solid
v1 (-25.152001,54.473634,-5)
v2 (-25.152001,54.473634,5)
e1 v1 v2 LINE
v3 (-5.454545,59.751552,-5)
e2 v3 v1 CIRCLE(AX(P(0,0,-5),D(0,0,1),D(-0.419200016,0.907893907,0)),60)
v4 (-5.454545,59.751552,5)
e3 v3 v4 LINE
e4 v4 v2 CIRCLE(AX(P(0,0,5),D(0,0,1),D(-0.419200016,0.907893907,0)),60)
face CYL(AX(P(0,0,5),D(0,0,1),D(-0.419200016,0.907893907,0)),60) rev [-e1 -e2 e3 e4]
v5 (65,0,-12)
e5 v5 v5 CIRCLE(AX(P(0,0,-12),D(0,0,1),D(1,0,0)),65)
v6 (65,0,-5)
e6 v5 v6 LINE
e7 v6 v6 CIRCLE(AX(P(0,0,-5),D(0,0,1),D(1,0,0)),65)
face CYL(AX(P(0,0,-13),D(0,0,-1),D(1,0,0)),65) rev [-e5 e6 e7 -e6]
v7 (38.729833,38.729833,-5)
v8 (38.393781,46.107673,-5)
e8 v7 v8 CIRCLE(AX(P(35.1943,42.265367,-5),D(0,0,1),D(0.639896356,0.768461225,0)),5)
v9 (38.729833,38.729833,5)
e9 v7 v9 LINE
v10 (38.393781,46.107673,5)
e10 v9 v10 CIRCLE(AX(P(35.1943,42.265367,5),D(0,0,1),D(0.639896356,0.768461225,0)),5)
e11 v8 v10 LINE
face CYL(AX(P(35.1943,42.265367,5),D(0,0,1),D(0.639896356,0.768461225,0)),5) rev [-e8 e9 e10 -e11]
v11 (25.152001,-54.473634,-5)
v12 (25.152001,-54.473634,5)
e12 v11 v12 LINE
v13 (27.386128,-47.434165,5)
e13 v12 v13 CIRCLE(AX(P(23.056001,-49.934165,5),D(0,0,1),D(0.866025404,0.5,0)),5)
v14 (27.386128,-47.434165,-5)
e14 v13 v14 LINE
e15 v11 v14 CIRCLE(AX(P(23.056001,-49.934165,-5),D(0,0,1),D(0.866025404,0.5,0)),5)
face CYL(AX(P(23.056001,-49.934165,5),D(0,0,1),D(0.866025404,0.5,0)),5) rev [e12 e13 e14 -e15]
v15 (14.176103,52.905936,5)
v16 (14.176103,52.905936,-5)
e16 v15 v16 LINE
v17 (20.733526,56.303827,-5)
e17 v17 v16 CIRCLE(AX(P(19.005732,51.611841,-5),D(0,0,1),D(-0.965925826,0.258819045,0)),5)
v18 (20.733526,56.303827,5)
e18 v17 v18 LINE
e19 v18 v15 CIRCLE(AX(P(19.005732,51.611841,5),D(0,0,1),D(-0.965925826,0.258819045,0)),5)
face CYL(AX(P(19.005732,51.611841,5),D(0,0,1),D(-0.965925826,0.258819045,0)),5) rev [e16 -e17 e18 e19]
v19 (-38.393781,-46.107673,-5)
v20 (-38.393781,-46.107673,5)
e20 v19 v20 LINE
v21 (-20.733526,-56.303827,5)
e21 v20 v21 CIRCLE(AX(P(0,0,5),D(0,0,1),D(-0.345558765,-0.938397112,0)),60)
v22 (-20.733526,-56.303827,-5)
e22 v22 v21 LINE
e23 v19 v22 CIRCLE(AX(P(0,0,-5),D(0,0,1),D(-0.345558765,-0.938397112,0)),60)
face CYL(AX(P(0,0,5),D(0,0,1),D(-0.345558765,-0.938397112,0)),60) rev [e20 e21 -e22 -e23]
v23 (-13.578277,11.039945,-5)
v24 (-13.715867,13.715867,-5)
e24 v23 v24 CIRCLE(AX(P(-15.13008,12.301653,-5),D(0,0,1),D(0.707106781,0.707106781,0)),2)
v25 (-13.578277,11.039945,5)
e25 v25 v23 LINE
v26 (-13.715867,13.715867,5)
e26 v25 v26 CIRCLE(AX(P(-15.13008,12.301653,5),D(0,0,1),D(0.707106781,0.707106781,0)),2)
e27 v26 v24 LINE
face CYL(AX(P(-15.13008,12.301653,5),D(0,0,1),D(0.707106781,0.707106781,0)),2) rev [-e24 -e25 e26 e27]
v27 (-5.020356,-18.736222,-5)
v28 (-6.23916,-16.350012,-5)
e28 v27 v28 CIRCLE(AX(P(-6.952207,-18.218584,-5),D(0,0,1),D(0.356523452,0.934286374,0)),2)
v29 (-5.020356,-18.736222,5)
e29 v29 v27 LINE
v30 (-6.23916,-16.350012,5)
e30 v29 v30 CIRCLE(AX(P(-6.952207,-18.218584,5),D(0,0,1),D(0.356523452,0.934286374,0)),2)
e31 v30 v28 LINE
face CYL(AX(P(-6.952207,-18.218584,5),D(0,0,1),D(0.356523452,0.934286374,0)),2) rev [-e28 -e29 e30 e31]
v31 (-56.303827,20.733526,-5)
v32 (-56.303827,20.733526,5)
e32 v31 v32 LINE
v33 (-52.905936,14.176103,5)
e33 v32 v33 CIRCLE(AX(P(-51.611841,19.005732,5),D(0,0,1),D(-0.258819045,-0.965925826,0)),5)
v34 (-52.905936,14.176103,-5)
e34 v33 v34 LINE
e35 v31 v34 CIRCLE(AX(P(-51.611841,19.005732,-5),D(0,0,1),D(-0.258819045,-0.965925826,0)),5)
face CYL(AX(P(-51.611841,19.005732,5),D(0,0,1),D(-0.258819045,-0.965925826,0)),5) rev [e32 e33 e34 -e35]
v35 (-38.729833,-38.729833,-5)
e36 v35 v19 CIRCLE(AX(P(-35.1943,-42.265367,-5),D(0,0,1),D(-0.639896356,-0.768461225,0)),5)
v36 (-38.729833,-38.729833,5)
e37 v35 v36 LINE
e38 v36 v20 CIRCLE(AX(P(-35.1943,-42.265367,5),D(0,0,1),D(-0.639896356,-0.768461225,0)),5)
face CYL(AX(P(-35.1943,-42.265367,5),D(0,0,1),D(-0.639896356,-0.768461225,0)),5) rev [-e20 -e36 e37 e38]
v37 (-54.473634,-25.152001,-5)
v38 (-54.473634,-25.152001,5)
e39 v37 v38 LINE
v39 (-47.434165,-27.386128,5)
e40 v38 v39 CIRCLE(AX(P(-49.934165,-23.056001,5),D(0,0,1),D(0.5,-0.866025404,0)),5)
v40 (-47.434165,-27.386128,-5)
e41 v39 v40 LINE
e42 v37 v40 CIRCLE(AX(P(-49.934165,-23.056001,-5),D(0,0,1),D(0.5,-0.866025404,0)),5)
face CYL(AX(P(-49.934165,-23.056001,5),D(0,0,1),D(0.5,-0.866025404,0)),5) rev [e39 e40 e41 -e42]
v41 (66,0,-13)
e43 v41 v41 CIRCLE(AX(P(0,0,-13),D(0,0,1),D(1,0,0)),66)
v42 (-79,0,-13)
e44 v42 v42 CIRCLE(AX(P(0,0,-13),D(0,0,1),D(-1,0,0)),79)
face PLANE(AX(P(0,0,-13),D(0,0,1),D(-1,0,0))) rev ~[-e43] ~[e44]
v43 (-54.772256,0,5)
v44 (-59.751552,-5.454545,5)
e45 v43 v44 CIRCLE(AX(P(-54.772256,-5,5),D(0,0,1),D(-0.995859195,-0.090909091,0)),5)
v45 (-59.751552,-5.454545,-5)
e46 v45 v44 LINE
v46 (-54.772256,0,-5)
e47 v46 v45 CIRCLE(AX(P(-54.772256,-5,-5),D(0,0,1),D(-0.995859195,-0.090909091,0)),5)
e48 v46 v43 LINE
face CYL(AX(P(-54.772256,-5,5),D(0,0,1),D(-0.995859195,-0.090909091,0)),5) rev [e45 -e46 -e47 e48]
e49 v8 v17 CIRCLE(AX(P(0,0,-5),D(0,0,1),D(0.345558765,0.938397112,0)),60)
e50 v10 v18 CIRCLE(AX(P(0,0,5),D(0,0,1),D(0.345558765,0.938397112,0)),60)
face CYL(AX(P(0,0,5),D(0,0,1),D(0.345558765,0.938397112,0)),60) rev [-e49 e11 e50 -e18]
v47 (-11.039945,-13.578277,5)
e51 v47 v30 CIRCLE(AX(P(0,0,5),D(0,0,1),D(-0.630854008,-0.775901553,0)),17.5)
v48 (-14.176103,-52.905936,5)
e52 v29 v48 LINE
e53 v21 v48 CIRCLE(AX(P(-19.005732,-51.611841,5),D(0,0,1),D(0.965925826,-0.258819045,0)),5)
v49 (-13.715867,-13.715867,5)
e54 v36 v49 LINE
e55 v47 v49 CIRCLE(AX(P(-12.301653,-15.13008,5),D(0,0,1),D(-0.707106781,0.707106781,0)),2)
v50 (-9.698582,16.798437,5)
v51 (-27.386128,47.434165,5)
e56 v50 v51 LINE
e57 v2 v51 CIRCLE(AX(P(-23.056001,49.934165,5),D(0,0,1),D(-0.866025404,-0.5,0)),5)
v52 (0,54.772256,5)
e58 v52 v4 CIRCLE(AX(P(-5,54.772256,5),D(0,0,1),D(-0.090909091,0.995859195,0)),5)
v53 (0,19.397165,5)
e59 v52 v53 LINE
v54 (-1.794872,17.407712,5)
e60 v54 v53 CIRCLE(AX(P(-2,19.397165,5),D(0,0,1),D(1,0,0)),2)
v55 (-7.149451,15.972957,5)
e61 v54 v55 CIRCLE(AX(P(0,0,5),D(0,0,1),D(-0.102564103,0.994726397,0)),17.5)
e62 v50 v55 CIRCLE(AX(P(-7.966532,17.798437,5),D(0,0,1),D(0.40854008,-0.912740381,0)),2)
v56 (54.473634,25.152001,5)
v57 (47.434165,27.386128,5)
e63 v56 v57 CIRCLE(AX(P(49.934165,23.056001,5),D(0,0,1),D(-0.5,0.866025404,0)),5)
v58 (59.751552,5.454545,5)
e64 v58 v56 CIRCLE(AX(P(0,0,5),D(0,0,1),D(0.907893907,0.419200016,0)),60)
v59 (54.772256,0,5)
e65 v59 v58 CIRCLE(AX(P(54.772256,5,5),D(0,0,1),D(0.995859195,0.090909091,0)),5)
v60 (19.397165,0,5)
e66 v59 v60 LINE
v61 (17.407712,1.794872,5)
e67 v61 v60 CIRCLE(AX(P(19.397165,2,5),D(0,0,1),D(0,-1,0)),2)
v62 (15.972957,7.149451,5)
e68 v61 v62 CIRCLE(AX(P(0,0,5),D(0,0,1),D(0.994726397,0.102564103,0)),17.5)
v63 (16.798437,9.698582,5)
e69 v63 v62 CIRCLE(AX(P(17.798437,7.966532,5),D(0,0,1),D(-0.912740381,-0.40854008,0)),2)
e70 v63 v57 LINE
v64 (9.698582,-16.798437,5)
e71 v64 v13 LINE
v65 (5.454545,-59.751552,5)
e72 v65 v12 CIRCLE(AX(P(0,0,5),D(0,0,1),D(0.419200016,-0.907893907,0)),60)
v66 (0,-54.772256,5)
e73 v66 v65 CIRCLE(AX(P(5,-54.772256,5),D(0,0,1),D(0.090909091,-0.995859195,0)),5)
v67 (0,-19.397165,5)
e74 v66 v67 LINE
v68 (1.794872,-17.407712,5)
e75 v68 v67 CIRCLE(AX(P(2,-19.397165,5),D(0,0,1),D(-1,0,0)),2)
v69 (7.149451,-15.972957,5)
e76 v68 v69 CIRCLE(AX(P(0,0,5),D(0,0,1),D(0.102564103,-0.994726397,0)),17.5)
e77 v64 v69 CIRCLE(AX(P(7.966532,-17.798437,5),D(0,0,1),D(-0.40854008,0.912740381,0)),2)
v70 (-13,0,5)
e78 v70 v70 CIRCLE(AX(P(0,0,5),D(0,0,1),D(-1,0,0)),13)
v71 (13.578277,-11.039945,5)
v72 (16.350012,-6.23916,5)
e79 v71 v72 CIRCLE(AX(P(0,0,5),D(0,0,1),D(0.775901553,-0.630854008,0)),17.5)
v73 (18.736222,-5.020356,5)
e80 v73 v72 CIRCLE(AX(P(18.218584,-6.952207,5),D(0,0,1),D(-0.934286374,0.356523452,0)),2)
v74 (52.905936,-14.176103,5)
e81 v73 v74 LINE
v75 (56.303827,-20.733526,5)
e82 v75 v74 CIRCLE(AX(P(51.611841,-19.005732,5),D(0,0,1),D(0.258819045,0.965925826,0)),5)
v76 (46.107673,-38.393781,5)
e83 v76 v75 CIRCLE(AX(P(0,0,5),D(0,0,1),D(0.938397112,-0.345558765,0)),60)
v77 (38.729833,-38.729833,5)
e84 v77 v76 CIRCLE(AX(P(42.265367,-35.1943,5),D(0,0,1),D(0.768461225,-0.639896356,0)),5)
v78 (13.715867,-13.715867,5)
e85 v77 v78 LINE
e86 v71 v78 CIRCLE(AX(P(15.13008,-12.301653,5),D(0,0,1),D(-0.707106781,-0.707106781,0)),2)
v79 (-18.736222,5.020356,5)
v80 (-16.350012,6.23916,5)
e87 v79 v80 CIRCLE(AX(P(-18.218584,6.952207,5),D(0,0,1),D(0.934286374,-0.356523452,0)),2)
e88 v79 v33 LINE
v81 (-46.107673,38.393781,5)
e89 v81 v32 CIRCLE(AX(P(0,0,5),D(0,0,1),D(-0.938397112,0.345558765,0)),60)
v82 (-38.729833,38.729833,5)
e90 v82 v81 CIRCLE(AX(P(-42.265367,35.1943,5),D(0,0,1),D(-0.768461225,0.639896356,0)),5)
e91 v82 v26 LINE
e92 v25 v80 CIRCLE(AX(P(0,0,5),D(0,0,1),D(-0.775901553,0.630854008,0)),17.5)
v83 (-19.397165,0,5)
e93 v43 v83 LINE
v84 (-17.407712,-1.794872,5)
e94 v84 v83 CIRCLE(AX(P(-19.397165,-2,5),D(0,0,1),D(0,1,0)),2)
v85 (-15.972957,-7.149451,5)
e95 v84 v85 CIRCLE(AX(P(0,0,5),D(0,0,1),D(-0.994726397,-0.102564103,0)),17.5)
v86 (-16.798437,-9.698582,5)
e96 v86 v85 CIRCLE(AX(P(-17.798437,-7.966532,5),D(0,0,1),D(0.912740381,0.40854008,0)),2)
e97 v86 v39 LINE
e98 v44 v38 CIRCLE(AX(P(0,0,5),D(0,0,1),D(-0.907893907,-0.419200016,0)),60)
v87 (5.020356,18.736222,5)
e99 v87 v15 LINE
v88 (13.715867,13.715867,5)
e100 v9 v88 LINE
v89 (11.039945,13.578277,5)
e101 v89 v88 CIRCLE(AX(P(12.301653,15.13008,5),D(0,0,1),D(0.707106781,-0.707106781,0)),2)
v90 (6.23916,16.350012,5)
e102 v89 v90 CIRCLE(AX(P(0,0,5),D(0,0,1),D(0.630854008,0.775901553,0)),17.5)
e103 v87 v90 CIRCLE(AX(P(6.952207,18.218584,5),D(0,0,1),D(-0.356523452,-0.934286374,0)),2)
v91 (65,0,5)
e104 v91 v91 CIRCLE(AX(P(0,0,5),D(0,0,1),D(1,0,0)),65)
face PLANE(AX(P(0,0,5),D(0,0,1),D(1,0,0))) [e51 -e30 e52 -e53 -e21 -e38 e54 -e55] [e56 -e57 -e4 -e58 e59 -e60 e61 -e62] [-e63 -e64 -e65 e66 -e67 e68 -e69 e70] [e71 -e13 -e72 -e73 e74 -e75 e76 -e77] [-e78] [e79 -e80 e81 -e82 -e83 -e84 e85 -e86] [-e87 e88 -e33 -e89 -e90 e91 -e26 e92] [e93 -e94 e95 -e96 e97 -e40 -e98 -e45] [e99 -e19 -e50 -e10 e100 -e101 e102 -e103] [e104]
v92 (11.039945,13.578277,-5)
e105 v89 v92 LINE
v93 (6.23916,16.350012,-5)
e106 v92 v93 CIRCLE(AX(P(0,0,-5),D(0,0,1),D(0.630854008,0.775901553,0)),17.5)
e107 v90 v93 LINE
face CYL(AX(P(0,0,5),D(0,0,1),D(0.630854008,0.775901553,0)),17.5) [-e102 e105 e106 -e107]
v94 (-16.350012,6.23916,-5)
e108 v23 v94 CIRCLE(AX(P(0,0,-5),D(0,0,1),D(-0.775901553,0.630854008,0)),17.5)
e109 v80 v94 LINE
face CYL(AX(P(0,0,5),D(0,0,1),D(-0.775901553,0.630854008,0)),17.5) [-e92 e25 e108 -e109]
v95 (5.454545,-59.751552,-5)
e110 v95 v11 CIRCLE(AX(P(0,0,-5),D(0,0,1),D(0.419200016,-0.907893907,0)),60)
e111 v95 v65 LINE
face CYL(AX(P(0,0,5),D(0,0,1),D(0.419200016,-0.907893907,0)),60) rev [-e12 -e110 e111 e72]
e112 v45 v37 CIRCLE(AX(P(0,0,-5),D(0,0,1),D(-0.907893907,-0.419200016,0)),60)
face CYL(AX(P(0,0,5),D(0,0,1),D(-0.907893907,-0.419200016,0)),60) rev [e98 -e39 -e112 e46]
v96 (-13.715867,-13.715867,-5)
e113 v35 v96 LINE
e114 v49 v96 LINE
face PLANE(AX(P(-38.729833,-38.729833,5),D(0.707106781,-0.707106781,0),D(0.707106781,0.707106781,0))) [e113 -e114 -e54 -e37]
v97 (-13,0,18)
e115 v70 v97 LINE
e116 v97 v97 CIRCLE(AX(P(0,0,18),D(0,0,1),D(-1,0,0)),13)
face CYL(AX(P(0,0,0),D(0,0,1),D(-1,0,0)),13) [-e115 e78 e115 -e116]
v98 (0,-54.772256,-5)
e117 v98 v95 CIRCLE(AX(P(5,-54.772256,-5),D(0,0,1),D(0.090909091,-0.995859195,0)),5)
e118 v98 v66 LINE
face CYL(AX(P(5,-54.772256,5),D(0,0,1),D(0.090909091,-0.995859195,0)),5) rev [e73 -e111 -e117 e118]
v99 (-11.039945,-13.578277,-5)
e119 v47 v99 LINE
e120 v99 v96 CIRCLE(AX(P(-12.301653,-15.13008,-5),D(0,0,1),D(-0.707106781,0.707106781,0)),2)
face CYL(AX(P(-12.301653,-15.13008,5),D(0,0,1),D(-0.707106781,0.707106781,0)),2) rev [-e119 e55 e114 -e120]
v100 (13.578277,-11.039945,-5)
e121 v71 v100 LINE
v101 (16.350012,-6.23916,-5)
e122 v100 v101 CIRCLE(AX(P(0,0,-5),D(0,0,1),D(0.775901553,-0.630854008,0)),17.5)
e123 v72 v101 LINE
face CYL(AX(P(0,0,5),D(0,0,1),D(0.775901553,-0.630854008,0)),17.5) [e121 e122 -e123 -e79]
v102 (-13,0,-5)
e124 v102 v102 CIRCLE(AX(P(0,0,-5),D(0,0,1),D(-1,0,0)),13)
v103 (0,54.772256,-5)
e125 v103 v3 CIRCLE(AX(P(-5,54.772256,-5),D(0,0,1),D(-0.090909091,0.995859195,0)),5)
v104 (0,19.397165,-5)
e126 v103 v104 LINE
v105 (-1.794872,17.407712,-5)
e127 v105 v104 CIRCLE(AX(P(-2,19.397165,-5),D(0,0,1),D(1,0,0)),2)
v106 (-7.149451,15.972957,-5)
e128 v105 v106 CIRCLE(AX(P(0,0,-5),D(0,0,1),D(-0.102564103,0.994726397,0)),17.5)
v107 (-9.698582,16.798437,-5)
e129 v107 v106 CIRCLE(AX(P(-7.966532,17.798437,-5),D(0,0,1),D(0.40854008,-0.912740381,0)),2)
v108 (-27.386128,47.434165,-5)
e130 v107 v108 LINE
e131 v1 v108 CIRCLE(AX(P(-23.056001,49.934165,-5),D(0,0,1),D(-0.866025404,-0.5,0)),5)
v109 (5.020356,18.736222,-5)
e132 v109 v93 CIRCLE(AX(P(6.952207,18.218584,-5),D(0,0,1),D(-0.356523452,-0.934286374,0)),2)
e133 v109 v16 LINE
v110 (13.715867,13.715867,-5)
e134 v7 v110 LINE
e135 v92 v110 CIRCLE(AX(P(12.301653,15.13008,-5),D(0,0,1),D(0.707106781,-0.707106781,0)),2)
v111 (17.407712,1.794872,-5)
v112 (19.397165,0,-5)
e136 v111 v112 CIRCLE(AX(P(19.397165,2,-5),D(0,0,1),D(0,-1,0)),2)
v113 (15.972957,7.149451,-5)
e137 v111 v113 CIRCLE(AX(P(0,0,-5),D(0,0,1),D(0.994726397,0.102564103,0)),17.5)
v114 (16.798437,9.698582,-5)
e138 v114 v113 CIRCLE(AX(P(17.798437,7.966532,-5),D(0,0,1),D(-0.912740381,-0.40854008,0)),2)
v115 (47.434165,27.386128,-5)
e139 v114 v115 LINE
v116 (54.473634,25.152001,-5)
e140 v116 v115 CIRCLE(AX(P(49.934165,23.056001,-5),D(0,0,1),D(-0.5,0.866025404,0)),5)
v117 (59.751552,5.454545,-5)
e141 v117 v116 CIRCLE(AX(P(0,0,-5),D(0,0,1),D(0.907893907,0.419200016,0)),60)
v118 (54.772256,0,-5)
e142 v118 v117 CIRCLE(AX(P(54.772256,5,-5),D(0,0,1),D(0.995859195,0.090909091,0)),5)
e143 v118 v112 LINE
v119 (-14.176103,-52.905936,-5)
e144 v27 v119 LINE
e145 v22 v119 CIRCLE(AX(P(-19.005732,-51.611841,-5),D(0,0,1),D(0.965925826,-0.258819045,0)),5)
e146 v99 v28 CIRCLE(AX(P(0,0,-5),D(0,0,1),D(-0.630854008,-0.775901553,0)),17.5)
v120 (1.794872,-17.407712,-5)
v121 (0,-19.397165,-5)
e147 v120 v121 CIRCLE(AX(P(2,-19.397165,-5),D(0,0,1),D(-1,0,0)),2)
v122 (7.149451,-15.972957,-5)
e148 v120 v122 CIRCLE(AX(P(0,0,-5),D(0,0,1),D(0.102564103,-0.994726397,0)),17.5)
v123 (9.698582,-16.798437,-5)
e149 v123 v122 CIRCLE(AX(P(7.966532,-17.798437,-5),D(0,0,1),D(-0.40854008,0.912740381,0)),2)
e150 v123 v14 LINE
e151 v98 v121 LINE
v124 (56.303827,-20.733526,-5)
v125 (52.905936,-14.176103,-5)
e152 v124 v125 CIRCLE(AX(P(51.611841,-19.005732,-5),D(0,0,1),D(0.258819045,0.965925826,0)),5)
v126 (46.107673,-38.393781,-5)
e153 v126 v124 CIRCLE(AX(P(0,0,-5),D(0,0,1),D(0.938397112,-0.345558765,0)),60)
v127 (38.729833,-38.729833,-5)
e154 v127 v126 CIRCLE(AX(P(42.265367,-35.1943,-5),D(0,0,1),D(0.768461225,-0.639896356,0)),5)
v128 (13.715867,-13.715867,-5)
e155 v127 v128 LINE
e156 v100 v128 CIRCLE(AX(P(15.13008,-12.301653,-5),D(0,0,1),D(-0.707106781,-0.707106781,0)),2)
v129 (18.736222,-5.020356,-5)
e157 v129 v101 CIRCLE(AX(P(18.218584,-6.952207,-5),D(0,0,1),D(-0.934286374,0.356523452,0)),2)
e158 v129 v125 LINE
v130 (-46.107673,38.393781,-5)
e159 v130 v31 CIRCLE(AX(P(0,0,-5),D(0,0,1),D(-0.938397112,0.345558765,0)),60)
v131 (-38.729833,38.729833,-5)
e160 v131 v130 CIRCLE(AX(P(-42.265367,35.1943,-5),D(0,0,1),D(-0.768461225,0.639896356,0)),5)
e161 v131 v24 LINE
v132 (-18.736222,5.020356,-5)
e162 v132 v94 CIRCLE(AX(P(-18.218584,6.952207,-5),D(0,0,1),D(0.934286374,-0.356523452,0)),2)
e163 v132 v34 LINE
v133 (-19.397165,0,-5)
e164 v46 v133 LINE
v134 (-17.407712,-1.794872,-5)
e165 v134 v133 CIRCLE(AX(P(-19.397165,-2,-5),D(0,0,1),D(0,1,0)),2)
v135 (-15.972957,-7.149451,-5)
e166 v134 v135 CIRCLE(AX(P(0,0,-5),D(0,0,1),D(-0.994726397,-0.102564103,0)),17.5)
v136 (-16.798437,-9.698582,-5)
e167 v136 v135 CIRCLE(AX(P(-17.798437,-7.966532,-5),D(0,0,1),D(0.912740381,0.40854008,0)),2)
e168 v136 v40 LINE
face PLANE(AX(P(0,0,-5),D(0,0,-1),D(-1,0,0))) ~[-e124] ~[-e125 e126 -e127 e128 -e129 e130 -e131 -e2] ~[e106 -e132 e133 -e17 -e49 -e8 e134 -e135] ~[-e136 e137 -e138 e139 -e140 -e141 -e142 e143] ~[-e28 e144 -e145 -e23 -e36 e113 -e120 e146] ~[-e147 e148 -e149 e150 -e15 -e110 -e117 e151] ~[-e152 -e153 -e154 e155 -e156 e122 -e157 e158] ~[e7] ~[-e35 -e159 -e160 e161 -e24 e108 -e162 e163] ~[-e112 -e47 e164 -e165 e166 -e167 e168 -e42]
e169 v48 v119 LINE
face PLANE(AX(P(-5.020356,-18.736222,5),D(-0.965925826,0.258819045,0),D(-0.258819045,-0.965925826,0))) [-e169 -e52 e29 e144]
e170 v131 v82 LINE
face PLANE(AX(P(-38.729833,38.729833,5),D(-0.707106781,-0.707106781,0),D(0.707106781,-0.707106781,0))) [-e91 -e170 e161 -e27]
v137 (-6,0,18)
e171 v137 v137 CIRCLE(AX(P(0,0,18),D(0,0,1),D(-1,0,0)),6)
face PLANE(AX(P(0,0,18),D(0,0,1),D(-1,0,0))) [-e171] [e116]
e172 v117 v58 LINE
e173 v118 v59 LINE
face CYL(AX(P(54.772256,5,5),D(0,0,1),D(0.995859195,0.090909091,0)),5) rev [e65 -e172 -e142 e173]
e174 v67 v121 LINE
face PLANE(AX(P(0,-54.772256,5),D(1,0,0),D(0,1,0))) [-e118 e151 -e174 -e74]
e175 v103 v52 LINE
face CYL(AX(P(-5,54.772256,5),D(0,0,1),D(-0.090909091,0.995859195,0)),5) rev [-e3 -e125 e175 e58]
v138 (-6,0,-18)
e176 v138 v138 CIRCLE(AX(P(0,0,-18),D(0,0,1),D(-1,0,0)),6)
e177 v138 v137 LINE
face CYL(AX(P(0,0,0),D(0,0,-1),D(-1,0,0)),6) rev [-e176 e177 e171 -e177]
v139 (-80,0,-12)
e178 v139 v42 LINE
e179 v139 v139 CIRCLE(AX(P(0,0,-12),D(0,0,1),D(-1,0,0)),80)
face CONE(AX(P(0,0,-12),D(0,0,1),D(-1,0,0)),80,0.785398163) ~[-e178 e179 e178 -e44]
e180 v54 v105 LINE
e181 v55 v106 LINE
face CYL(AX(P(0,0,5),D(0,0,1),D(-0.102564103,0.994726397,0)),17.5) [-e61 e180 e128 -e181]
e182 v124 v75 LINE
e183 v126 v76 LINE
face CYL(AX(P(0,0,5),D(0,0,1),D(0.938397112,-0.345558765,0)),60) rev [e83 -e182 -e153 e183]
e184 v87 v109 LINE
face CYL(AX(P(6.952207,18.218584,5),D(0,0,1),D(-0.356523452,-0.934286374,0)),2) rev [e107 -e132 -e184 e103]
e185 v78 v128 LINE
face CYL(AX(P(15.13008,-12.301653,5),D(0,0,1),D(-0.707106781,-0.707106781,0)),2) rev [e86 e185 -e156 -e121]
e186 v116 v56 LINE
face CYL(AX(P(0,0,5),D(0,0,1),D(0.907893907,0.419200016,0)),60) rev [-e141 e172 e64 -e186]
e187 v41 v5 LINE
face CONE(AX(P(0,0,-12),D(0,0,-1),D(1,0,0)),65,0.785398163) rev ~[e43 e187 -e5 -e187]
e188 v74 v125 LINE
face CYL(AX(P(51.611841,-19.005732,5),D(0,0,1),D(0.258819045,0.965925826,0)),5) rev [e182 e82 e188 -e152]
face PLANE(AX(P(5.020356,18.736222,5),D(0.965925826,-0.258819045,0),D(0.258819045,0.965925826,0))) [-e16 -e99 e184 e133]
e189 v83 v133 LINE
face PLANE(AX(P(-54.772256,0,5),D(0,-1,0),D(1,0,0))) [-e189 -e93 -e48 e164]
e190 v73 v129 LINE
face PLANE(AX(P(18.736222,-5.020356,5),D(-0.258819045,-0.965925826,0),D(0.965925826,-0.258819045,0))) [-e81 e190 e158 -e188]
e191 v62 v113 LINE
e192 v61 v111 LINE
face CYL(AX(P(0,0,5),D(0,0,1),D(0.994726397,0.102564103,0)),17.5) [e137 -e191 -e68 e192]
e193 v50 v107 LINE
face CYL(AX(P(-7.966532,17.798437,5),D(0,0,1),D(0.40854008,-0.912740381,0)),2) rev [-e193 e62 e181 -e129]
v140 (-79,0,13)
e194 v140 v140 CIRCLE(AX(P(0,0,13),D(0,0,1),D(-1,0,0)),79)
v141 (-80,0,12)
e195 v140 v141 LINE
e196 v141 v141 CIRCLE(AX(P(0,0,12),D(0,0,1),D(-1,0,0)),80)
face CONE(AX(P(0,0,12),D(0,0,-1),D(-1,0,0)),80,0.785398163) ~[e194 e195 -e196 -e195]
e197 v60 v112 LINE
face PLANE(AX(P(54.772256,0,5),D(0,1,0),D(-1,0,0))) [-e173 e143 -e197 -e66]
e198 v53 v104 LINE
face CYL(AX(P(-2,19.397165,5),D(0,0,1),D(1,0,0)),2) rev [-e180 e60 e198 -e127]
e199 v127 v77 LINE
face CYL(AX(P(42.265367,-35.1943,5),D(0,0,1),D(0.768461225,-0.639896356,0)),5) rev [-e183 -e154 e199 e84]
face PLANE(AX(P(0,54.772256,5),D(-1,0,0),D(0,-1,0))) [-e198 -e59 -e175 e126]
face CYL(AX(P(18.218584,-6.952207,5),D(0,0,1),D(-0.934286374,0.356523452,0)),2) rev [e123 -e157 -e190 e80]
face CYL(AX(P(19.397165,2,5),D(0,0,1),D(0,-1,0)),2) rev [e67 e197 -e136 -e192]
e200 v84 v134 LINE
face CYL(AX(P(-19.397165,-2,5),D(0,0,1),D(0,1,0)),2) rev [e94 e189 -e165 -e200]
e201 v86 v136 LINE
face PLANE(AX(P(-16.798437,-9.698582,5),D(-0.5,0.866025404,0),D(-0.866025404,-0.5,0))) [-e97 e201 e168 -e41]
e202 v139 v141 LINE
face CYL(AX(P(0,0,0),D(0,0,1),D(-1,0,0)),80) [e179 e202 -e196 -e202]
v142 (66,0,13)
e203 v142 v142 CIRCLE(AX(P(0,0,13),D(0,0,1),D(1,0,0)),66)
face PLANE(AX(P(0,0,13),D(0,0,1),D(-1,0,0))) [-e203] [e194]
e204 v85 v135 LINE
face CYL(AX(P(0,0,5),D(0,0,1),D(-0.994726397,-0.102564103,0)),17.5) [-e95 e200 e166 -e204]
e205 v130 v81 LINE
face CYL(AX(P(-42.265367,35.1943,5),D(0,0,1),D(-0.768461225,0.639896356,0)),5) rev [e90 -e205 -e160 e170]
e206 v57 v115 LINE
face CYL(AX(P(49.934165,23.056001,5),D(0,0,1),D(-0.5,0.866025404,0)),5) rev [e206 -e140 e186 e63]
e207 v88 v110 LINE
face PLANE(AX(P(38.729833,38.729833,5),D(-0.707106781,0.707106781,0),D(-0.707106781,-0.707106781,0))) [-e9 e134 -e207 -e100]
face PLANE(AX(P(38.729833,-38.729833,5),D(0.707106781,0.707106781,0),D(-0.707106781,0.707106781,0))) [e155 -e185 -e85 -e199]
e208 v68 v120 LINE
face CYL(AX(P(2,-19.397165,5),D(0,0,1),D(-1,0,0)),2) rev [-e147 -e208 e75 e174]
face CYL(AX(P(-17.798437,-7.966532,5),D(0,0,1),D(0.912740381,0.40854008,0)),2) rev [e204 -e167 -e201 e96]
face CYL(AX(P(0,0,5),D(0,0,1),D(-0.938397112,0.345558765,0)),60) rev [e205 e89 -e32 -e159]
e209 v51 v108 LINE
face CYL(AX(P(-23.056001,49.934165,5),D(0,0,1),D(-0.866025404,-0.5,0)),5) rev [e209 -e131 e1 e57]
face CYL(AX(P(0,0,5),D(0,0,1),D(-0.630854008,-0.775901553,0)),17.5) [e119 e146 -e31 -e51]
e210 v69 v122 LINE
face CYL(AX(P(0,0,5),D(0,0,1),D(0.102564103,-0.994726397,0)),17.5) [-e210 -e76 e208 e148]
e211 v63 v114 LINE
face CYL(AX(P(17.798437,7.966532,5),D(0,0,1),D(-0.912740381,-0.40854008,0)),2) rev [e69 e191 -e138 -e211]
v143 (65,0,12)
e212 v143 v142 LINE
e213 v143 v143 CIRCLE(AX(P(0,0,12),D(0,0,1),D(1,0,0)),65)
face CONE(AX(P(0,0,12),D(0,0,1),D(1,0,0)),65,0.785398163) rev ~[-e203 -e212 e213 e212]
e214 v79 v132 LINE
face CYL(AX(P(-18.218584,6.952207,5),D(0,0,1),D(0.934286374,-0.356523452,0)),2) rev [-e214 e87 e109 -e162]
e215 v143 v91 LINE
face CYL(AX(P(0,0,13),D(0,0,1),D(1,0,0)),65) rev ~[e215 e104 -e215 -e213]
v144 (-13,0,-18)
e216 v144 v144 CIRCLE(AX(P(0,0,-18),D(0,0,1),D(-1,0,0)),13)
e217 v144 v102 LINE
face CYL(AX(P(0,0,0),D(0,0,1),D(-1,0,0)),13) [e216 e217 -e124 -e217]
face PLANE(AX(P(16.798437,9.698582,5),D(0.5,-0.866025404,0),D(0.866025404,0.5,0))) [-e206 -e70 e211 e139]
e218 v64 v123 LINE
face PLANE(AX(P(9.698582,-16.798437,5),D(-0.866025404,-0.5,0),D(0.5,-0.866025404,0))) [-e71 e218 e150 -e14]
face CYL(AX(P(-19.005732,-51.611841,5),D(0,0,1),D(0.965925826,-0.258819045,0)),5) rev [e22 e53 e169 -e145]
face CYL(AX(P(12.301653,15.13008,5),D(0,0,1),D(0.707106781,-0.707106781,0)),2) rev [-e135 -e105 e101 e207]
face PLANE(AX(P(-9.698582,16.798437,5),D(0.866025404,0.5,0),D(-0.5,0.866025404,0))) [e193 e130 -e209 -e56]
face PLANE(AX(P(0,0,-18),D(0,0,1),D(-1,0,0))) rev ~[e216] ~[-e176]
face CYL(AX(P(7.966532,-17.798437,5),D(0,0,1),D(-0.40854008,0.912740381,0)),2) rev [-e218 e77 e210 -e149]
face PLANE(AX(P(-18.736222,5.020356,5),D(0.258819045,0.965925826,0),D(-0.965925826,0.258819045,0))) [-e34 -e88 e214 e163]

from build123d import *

# Parameters (mm, degrees)
SKETCH1_R           = 80
SKETCH1_R_2         = 6
BOSS_EXTRUDE1_DEPTH = 13
SKETCH2_R           = 65
CUT_EXTRUDE1_DEPTH  = 8
SKETCH5_R           = 13
SKETCH5_R_2         = 6
BOSS_EXTRUDE2_DEPTH = 18
CHAMFER1_SIZE       = 1
CUT_EXTRUDE2_DEPTH  = 116.451288429
CIRPATTERN1_COUNT   = 8


with BuildPart() as part:
    # Sketch1 → Boss-Extrude1 (new, symmetric)
    with BuildSketch(Plane.XY):
        with Locations(Location((0, 0, 0), (0, 0, 180))):
            Circle(SKETCH1_R)
        with Locations(Location((0, 0, 0), (0, 0, 180))):
            Circle(SKETCH1_R_2, mode=Mode.SUBTRACT)
    extrude(amount=BOSS_EXTRUDE1_DEPTH, both=True)

    # Sketch2 → Cut-Extrude1 (cut)
    with BuildSketch(Plane.XY.offset(13)):
        Circle(SKETCH2_R)
    cut_extrude1 = extrude(amount=-CUT_EXTRUDE1_DEPTH, mode=Mode.SUBTRACT)

    # Mirror1: Cut-Extrude1 across plane
    add(cut_extrude1.mirror(Plane.XY), mode=Mode.SUBTRACT)

    # Sketch5 → Boss-Extrude2 (add, symmetric)
    with BuildSketch(Plane.XY):
        with Locations(Location((0, 0, 0), (0, 0, 180))):
            Circle(SKETCH5_R)
        with Locations(Location((0, 0, 0), (0, 0, 180))):
            Circle(SKETCH5_R_2, mode=Mode.SUBTRACT)
    extrude(amount=BOSS_EXTRUDE2_DEPTH, both=True)

    # Chamfer1
    chamfer1_edges = [part.edges().sort_by_distance(p)[0] for p in [
        (-65, 0, 13),
        (-65, 0, -13),
        (80, 0, -13),
        (80, 0, 13),
    ]]
    chamfer(chamfer1_edges, length=CHAMFER1_SIZE)

    # Sketch7 → Cut-Extrude2 (cut, symmetric)
    with BuildSketch(Plane.XY.offset(5)):
        with BuildLine():
            Line((0, 54.772255751), (0, 19.397164741))
            ThreePointArc((0, 19.397164741), (-0.515032591, 18.057436487), (-1.794871795, 17.407711947))
            ThreePointArc((-1.794871795, 17.407711947), (-4.529333289, 16.90370196), (-7.149451403, 15.972956666))
            ThreePointArc((-7.149451403, 15.972956666), (-8.582686936, 15.895715021), (-9.698582371, 16.798437427))
            Line((-9.698582371, 16.798437427), (-27.386127875, 47.434164903))
            ThreePointArc((-27.386127875, 47.434164903), (-27.821744262, 51.446675992), (-25.152000934, 54.473634439))
            ThreePointArc((-25.152000934, 54.473634439), (-15.529142706, 57.955549577), (-5.454545455, 59.751551728))
            ThreePointArc((-5.454545455, 59.751551728), (-1.629000688, 58.46500048), (0, 54.772255751))
        make_face()
    cut_extrude2 = extrude(amount=CUT_EXTRUDE2_DEPTH, both=True, mode=Mode.SUBTRACT)

    # CirPattern1: Cut-Extrude2 ×8 about axis
    cirpattern1_axis = Axis((0, 0, 0), (0, 0, 1))
    for i in range(1, CIRPATTERN1_COUNT):
        add(cut_extrude2.rotate(cirpattern1_axis, i * 360 / CIRPATTERN1_COUNT), mode=Mode.SUBTRACT)


solid = part.part
